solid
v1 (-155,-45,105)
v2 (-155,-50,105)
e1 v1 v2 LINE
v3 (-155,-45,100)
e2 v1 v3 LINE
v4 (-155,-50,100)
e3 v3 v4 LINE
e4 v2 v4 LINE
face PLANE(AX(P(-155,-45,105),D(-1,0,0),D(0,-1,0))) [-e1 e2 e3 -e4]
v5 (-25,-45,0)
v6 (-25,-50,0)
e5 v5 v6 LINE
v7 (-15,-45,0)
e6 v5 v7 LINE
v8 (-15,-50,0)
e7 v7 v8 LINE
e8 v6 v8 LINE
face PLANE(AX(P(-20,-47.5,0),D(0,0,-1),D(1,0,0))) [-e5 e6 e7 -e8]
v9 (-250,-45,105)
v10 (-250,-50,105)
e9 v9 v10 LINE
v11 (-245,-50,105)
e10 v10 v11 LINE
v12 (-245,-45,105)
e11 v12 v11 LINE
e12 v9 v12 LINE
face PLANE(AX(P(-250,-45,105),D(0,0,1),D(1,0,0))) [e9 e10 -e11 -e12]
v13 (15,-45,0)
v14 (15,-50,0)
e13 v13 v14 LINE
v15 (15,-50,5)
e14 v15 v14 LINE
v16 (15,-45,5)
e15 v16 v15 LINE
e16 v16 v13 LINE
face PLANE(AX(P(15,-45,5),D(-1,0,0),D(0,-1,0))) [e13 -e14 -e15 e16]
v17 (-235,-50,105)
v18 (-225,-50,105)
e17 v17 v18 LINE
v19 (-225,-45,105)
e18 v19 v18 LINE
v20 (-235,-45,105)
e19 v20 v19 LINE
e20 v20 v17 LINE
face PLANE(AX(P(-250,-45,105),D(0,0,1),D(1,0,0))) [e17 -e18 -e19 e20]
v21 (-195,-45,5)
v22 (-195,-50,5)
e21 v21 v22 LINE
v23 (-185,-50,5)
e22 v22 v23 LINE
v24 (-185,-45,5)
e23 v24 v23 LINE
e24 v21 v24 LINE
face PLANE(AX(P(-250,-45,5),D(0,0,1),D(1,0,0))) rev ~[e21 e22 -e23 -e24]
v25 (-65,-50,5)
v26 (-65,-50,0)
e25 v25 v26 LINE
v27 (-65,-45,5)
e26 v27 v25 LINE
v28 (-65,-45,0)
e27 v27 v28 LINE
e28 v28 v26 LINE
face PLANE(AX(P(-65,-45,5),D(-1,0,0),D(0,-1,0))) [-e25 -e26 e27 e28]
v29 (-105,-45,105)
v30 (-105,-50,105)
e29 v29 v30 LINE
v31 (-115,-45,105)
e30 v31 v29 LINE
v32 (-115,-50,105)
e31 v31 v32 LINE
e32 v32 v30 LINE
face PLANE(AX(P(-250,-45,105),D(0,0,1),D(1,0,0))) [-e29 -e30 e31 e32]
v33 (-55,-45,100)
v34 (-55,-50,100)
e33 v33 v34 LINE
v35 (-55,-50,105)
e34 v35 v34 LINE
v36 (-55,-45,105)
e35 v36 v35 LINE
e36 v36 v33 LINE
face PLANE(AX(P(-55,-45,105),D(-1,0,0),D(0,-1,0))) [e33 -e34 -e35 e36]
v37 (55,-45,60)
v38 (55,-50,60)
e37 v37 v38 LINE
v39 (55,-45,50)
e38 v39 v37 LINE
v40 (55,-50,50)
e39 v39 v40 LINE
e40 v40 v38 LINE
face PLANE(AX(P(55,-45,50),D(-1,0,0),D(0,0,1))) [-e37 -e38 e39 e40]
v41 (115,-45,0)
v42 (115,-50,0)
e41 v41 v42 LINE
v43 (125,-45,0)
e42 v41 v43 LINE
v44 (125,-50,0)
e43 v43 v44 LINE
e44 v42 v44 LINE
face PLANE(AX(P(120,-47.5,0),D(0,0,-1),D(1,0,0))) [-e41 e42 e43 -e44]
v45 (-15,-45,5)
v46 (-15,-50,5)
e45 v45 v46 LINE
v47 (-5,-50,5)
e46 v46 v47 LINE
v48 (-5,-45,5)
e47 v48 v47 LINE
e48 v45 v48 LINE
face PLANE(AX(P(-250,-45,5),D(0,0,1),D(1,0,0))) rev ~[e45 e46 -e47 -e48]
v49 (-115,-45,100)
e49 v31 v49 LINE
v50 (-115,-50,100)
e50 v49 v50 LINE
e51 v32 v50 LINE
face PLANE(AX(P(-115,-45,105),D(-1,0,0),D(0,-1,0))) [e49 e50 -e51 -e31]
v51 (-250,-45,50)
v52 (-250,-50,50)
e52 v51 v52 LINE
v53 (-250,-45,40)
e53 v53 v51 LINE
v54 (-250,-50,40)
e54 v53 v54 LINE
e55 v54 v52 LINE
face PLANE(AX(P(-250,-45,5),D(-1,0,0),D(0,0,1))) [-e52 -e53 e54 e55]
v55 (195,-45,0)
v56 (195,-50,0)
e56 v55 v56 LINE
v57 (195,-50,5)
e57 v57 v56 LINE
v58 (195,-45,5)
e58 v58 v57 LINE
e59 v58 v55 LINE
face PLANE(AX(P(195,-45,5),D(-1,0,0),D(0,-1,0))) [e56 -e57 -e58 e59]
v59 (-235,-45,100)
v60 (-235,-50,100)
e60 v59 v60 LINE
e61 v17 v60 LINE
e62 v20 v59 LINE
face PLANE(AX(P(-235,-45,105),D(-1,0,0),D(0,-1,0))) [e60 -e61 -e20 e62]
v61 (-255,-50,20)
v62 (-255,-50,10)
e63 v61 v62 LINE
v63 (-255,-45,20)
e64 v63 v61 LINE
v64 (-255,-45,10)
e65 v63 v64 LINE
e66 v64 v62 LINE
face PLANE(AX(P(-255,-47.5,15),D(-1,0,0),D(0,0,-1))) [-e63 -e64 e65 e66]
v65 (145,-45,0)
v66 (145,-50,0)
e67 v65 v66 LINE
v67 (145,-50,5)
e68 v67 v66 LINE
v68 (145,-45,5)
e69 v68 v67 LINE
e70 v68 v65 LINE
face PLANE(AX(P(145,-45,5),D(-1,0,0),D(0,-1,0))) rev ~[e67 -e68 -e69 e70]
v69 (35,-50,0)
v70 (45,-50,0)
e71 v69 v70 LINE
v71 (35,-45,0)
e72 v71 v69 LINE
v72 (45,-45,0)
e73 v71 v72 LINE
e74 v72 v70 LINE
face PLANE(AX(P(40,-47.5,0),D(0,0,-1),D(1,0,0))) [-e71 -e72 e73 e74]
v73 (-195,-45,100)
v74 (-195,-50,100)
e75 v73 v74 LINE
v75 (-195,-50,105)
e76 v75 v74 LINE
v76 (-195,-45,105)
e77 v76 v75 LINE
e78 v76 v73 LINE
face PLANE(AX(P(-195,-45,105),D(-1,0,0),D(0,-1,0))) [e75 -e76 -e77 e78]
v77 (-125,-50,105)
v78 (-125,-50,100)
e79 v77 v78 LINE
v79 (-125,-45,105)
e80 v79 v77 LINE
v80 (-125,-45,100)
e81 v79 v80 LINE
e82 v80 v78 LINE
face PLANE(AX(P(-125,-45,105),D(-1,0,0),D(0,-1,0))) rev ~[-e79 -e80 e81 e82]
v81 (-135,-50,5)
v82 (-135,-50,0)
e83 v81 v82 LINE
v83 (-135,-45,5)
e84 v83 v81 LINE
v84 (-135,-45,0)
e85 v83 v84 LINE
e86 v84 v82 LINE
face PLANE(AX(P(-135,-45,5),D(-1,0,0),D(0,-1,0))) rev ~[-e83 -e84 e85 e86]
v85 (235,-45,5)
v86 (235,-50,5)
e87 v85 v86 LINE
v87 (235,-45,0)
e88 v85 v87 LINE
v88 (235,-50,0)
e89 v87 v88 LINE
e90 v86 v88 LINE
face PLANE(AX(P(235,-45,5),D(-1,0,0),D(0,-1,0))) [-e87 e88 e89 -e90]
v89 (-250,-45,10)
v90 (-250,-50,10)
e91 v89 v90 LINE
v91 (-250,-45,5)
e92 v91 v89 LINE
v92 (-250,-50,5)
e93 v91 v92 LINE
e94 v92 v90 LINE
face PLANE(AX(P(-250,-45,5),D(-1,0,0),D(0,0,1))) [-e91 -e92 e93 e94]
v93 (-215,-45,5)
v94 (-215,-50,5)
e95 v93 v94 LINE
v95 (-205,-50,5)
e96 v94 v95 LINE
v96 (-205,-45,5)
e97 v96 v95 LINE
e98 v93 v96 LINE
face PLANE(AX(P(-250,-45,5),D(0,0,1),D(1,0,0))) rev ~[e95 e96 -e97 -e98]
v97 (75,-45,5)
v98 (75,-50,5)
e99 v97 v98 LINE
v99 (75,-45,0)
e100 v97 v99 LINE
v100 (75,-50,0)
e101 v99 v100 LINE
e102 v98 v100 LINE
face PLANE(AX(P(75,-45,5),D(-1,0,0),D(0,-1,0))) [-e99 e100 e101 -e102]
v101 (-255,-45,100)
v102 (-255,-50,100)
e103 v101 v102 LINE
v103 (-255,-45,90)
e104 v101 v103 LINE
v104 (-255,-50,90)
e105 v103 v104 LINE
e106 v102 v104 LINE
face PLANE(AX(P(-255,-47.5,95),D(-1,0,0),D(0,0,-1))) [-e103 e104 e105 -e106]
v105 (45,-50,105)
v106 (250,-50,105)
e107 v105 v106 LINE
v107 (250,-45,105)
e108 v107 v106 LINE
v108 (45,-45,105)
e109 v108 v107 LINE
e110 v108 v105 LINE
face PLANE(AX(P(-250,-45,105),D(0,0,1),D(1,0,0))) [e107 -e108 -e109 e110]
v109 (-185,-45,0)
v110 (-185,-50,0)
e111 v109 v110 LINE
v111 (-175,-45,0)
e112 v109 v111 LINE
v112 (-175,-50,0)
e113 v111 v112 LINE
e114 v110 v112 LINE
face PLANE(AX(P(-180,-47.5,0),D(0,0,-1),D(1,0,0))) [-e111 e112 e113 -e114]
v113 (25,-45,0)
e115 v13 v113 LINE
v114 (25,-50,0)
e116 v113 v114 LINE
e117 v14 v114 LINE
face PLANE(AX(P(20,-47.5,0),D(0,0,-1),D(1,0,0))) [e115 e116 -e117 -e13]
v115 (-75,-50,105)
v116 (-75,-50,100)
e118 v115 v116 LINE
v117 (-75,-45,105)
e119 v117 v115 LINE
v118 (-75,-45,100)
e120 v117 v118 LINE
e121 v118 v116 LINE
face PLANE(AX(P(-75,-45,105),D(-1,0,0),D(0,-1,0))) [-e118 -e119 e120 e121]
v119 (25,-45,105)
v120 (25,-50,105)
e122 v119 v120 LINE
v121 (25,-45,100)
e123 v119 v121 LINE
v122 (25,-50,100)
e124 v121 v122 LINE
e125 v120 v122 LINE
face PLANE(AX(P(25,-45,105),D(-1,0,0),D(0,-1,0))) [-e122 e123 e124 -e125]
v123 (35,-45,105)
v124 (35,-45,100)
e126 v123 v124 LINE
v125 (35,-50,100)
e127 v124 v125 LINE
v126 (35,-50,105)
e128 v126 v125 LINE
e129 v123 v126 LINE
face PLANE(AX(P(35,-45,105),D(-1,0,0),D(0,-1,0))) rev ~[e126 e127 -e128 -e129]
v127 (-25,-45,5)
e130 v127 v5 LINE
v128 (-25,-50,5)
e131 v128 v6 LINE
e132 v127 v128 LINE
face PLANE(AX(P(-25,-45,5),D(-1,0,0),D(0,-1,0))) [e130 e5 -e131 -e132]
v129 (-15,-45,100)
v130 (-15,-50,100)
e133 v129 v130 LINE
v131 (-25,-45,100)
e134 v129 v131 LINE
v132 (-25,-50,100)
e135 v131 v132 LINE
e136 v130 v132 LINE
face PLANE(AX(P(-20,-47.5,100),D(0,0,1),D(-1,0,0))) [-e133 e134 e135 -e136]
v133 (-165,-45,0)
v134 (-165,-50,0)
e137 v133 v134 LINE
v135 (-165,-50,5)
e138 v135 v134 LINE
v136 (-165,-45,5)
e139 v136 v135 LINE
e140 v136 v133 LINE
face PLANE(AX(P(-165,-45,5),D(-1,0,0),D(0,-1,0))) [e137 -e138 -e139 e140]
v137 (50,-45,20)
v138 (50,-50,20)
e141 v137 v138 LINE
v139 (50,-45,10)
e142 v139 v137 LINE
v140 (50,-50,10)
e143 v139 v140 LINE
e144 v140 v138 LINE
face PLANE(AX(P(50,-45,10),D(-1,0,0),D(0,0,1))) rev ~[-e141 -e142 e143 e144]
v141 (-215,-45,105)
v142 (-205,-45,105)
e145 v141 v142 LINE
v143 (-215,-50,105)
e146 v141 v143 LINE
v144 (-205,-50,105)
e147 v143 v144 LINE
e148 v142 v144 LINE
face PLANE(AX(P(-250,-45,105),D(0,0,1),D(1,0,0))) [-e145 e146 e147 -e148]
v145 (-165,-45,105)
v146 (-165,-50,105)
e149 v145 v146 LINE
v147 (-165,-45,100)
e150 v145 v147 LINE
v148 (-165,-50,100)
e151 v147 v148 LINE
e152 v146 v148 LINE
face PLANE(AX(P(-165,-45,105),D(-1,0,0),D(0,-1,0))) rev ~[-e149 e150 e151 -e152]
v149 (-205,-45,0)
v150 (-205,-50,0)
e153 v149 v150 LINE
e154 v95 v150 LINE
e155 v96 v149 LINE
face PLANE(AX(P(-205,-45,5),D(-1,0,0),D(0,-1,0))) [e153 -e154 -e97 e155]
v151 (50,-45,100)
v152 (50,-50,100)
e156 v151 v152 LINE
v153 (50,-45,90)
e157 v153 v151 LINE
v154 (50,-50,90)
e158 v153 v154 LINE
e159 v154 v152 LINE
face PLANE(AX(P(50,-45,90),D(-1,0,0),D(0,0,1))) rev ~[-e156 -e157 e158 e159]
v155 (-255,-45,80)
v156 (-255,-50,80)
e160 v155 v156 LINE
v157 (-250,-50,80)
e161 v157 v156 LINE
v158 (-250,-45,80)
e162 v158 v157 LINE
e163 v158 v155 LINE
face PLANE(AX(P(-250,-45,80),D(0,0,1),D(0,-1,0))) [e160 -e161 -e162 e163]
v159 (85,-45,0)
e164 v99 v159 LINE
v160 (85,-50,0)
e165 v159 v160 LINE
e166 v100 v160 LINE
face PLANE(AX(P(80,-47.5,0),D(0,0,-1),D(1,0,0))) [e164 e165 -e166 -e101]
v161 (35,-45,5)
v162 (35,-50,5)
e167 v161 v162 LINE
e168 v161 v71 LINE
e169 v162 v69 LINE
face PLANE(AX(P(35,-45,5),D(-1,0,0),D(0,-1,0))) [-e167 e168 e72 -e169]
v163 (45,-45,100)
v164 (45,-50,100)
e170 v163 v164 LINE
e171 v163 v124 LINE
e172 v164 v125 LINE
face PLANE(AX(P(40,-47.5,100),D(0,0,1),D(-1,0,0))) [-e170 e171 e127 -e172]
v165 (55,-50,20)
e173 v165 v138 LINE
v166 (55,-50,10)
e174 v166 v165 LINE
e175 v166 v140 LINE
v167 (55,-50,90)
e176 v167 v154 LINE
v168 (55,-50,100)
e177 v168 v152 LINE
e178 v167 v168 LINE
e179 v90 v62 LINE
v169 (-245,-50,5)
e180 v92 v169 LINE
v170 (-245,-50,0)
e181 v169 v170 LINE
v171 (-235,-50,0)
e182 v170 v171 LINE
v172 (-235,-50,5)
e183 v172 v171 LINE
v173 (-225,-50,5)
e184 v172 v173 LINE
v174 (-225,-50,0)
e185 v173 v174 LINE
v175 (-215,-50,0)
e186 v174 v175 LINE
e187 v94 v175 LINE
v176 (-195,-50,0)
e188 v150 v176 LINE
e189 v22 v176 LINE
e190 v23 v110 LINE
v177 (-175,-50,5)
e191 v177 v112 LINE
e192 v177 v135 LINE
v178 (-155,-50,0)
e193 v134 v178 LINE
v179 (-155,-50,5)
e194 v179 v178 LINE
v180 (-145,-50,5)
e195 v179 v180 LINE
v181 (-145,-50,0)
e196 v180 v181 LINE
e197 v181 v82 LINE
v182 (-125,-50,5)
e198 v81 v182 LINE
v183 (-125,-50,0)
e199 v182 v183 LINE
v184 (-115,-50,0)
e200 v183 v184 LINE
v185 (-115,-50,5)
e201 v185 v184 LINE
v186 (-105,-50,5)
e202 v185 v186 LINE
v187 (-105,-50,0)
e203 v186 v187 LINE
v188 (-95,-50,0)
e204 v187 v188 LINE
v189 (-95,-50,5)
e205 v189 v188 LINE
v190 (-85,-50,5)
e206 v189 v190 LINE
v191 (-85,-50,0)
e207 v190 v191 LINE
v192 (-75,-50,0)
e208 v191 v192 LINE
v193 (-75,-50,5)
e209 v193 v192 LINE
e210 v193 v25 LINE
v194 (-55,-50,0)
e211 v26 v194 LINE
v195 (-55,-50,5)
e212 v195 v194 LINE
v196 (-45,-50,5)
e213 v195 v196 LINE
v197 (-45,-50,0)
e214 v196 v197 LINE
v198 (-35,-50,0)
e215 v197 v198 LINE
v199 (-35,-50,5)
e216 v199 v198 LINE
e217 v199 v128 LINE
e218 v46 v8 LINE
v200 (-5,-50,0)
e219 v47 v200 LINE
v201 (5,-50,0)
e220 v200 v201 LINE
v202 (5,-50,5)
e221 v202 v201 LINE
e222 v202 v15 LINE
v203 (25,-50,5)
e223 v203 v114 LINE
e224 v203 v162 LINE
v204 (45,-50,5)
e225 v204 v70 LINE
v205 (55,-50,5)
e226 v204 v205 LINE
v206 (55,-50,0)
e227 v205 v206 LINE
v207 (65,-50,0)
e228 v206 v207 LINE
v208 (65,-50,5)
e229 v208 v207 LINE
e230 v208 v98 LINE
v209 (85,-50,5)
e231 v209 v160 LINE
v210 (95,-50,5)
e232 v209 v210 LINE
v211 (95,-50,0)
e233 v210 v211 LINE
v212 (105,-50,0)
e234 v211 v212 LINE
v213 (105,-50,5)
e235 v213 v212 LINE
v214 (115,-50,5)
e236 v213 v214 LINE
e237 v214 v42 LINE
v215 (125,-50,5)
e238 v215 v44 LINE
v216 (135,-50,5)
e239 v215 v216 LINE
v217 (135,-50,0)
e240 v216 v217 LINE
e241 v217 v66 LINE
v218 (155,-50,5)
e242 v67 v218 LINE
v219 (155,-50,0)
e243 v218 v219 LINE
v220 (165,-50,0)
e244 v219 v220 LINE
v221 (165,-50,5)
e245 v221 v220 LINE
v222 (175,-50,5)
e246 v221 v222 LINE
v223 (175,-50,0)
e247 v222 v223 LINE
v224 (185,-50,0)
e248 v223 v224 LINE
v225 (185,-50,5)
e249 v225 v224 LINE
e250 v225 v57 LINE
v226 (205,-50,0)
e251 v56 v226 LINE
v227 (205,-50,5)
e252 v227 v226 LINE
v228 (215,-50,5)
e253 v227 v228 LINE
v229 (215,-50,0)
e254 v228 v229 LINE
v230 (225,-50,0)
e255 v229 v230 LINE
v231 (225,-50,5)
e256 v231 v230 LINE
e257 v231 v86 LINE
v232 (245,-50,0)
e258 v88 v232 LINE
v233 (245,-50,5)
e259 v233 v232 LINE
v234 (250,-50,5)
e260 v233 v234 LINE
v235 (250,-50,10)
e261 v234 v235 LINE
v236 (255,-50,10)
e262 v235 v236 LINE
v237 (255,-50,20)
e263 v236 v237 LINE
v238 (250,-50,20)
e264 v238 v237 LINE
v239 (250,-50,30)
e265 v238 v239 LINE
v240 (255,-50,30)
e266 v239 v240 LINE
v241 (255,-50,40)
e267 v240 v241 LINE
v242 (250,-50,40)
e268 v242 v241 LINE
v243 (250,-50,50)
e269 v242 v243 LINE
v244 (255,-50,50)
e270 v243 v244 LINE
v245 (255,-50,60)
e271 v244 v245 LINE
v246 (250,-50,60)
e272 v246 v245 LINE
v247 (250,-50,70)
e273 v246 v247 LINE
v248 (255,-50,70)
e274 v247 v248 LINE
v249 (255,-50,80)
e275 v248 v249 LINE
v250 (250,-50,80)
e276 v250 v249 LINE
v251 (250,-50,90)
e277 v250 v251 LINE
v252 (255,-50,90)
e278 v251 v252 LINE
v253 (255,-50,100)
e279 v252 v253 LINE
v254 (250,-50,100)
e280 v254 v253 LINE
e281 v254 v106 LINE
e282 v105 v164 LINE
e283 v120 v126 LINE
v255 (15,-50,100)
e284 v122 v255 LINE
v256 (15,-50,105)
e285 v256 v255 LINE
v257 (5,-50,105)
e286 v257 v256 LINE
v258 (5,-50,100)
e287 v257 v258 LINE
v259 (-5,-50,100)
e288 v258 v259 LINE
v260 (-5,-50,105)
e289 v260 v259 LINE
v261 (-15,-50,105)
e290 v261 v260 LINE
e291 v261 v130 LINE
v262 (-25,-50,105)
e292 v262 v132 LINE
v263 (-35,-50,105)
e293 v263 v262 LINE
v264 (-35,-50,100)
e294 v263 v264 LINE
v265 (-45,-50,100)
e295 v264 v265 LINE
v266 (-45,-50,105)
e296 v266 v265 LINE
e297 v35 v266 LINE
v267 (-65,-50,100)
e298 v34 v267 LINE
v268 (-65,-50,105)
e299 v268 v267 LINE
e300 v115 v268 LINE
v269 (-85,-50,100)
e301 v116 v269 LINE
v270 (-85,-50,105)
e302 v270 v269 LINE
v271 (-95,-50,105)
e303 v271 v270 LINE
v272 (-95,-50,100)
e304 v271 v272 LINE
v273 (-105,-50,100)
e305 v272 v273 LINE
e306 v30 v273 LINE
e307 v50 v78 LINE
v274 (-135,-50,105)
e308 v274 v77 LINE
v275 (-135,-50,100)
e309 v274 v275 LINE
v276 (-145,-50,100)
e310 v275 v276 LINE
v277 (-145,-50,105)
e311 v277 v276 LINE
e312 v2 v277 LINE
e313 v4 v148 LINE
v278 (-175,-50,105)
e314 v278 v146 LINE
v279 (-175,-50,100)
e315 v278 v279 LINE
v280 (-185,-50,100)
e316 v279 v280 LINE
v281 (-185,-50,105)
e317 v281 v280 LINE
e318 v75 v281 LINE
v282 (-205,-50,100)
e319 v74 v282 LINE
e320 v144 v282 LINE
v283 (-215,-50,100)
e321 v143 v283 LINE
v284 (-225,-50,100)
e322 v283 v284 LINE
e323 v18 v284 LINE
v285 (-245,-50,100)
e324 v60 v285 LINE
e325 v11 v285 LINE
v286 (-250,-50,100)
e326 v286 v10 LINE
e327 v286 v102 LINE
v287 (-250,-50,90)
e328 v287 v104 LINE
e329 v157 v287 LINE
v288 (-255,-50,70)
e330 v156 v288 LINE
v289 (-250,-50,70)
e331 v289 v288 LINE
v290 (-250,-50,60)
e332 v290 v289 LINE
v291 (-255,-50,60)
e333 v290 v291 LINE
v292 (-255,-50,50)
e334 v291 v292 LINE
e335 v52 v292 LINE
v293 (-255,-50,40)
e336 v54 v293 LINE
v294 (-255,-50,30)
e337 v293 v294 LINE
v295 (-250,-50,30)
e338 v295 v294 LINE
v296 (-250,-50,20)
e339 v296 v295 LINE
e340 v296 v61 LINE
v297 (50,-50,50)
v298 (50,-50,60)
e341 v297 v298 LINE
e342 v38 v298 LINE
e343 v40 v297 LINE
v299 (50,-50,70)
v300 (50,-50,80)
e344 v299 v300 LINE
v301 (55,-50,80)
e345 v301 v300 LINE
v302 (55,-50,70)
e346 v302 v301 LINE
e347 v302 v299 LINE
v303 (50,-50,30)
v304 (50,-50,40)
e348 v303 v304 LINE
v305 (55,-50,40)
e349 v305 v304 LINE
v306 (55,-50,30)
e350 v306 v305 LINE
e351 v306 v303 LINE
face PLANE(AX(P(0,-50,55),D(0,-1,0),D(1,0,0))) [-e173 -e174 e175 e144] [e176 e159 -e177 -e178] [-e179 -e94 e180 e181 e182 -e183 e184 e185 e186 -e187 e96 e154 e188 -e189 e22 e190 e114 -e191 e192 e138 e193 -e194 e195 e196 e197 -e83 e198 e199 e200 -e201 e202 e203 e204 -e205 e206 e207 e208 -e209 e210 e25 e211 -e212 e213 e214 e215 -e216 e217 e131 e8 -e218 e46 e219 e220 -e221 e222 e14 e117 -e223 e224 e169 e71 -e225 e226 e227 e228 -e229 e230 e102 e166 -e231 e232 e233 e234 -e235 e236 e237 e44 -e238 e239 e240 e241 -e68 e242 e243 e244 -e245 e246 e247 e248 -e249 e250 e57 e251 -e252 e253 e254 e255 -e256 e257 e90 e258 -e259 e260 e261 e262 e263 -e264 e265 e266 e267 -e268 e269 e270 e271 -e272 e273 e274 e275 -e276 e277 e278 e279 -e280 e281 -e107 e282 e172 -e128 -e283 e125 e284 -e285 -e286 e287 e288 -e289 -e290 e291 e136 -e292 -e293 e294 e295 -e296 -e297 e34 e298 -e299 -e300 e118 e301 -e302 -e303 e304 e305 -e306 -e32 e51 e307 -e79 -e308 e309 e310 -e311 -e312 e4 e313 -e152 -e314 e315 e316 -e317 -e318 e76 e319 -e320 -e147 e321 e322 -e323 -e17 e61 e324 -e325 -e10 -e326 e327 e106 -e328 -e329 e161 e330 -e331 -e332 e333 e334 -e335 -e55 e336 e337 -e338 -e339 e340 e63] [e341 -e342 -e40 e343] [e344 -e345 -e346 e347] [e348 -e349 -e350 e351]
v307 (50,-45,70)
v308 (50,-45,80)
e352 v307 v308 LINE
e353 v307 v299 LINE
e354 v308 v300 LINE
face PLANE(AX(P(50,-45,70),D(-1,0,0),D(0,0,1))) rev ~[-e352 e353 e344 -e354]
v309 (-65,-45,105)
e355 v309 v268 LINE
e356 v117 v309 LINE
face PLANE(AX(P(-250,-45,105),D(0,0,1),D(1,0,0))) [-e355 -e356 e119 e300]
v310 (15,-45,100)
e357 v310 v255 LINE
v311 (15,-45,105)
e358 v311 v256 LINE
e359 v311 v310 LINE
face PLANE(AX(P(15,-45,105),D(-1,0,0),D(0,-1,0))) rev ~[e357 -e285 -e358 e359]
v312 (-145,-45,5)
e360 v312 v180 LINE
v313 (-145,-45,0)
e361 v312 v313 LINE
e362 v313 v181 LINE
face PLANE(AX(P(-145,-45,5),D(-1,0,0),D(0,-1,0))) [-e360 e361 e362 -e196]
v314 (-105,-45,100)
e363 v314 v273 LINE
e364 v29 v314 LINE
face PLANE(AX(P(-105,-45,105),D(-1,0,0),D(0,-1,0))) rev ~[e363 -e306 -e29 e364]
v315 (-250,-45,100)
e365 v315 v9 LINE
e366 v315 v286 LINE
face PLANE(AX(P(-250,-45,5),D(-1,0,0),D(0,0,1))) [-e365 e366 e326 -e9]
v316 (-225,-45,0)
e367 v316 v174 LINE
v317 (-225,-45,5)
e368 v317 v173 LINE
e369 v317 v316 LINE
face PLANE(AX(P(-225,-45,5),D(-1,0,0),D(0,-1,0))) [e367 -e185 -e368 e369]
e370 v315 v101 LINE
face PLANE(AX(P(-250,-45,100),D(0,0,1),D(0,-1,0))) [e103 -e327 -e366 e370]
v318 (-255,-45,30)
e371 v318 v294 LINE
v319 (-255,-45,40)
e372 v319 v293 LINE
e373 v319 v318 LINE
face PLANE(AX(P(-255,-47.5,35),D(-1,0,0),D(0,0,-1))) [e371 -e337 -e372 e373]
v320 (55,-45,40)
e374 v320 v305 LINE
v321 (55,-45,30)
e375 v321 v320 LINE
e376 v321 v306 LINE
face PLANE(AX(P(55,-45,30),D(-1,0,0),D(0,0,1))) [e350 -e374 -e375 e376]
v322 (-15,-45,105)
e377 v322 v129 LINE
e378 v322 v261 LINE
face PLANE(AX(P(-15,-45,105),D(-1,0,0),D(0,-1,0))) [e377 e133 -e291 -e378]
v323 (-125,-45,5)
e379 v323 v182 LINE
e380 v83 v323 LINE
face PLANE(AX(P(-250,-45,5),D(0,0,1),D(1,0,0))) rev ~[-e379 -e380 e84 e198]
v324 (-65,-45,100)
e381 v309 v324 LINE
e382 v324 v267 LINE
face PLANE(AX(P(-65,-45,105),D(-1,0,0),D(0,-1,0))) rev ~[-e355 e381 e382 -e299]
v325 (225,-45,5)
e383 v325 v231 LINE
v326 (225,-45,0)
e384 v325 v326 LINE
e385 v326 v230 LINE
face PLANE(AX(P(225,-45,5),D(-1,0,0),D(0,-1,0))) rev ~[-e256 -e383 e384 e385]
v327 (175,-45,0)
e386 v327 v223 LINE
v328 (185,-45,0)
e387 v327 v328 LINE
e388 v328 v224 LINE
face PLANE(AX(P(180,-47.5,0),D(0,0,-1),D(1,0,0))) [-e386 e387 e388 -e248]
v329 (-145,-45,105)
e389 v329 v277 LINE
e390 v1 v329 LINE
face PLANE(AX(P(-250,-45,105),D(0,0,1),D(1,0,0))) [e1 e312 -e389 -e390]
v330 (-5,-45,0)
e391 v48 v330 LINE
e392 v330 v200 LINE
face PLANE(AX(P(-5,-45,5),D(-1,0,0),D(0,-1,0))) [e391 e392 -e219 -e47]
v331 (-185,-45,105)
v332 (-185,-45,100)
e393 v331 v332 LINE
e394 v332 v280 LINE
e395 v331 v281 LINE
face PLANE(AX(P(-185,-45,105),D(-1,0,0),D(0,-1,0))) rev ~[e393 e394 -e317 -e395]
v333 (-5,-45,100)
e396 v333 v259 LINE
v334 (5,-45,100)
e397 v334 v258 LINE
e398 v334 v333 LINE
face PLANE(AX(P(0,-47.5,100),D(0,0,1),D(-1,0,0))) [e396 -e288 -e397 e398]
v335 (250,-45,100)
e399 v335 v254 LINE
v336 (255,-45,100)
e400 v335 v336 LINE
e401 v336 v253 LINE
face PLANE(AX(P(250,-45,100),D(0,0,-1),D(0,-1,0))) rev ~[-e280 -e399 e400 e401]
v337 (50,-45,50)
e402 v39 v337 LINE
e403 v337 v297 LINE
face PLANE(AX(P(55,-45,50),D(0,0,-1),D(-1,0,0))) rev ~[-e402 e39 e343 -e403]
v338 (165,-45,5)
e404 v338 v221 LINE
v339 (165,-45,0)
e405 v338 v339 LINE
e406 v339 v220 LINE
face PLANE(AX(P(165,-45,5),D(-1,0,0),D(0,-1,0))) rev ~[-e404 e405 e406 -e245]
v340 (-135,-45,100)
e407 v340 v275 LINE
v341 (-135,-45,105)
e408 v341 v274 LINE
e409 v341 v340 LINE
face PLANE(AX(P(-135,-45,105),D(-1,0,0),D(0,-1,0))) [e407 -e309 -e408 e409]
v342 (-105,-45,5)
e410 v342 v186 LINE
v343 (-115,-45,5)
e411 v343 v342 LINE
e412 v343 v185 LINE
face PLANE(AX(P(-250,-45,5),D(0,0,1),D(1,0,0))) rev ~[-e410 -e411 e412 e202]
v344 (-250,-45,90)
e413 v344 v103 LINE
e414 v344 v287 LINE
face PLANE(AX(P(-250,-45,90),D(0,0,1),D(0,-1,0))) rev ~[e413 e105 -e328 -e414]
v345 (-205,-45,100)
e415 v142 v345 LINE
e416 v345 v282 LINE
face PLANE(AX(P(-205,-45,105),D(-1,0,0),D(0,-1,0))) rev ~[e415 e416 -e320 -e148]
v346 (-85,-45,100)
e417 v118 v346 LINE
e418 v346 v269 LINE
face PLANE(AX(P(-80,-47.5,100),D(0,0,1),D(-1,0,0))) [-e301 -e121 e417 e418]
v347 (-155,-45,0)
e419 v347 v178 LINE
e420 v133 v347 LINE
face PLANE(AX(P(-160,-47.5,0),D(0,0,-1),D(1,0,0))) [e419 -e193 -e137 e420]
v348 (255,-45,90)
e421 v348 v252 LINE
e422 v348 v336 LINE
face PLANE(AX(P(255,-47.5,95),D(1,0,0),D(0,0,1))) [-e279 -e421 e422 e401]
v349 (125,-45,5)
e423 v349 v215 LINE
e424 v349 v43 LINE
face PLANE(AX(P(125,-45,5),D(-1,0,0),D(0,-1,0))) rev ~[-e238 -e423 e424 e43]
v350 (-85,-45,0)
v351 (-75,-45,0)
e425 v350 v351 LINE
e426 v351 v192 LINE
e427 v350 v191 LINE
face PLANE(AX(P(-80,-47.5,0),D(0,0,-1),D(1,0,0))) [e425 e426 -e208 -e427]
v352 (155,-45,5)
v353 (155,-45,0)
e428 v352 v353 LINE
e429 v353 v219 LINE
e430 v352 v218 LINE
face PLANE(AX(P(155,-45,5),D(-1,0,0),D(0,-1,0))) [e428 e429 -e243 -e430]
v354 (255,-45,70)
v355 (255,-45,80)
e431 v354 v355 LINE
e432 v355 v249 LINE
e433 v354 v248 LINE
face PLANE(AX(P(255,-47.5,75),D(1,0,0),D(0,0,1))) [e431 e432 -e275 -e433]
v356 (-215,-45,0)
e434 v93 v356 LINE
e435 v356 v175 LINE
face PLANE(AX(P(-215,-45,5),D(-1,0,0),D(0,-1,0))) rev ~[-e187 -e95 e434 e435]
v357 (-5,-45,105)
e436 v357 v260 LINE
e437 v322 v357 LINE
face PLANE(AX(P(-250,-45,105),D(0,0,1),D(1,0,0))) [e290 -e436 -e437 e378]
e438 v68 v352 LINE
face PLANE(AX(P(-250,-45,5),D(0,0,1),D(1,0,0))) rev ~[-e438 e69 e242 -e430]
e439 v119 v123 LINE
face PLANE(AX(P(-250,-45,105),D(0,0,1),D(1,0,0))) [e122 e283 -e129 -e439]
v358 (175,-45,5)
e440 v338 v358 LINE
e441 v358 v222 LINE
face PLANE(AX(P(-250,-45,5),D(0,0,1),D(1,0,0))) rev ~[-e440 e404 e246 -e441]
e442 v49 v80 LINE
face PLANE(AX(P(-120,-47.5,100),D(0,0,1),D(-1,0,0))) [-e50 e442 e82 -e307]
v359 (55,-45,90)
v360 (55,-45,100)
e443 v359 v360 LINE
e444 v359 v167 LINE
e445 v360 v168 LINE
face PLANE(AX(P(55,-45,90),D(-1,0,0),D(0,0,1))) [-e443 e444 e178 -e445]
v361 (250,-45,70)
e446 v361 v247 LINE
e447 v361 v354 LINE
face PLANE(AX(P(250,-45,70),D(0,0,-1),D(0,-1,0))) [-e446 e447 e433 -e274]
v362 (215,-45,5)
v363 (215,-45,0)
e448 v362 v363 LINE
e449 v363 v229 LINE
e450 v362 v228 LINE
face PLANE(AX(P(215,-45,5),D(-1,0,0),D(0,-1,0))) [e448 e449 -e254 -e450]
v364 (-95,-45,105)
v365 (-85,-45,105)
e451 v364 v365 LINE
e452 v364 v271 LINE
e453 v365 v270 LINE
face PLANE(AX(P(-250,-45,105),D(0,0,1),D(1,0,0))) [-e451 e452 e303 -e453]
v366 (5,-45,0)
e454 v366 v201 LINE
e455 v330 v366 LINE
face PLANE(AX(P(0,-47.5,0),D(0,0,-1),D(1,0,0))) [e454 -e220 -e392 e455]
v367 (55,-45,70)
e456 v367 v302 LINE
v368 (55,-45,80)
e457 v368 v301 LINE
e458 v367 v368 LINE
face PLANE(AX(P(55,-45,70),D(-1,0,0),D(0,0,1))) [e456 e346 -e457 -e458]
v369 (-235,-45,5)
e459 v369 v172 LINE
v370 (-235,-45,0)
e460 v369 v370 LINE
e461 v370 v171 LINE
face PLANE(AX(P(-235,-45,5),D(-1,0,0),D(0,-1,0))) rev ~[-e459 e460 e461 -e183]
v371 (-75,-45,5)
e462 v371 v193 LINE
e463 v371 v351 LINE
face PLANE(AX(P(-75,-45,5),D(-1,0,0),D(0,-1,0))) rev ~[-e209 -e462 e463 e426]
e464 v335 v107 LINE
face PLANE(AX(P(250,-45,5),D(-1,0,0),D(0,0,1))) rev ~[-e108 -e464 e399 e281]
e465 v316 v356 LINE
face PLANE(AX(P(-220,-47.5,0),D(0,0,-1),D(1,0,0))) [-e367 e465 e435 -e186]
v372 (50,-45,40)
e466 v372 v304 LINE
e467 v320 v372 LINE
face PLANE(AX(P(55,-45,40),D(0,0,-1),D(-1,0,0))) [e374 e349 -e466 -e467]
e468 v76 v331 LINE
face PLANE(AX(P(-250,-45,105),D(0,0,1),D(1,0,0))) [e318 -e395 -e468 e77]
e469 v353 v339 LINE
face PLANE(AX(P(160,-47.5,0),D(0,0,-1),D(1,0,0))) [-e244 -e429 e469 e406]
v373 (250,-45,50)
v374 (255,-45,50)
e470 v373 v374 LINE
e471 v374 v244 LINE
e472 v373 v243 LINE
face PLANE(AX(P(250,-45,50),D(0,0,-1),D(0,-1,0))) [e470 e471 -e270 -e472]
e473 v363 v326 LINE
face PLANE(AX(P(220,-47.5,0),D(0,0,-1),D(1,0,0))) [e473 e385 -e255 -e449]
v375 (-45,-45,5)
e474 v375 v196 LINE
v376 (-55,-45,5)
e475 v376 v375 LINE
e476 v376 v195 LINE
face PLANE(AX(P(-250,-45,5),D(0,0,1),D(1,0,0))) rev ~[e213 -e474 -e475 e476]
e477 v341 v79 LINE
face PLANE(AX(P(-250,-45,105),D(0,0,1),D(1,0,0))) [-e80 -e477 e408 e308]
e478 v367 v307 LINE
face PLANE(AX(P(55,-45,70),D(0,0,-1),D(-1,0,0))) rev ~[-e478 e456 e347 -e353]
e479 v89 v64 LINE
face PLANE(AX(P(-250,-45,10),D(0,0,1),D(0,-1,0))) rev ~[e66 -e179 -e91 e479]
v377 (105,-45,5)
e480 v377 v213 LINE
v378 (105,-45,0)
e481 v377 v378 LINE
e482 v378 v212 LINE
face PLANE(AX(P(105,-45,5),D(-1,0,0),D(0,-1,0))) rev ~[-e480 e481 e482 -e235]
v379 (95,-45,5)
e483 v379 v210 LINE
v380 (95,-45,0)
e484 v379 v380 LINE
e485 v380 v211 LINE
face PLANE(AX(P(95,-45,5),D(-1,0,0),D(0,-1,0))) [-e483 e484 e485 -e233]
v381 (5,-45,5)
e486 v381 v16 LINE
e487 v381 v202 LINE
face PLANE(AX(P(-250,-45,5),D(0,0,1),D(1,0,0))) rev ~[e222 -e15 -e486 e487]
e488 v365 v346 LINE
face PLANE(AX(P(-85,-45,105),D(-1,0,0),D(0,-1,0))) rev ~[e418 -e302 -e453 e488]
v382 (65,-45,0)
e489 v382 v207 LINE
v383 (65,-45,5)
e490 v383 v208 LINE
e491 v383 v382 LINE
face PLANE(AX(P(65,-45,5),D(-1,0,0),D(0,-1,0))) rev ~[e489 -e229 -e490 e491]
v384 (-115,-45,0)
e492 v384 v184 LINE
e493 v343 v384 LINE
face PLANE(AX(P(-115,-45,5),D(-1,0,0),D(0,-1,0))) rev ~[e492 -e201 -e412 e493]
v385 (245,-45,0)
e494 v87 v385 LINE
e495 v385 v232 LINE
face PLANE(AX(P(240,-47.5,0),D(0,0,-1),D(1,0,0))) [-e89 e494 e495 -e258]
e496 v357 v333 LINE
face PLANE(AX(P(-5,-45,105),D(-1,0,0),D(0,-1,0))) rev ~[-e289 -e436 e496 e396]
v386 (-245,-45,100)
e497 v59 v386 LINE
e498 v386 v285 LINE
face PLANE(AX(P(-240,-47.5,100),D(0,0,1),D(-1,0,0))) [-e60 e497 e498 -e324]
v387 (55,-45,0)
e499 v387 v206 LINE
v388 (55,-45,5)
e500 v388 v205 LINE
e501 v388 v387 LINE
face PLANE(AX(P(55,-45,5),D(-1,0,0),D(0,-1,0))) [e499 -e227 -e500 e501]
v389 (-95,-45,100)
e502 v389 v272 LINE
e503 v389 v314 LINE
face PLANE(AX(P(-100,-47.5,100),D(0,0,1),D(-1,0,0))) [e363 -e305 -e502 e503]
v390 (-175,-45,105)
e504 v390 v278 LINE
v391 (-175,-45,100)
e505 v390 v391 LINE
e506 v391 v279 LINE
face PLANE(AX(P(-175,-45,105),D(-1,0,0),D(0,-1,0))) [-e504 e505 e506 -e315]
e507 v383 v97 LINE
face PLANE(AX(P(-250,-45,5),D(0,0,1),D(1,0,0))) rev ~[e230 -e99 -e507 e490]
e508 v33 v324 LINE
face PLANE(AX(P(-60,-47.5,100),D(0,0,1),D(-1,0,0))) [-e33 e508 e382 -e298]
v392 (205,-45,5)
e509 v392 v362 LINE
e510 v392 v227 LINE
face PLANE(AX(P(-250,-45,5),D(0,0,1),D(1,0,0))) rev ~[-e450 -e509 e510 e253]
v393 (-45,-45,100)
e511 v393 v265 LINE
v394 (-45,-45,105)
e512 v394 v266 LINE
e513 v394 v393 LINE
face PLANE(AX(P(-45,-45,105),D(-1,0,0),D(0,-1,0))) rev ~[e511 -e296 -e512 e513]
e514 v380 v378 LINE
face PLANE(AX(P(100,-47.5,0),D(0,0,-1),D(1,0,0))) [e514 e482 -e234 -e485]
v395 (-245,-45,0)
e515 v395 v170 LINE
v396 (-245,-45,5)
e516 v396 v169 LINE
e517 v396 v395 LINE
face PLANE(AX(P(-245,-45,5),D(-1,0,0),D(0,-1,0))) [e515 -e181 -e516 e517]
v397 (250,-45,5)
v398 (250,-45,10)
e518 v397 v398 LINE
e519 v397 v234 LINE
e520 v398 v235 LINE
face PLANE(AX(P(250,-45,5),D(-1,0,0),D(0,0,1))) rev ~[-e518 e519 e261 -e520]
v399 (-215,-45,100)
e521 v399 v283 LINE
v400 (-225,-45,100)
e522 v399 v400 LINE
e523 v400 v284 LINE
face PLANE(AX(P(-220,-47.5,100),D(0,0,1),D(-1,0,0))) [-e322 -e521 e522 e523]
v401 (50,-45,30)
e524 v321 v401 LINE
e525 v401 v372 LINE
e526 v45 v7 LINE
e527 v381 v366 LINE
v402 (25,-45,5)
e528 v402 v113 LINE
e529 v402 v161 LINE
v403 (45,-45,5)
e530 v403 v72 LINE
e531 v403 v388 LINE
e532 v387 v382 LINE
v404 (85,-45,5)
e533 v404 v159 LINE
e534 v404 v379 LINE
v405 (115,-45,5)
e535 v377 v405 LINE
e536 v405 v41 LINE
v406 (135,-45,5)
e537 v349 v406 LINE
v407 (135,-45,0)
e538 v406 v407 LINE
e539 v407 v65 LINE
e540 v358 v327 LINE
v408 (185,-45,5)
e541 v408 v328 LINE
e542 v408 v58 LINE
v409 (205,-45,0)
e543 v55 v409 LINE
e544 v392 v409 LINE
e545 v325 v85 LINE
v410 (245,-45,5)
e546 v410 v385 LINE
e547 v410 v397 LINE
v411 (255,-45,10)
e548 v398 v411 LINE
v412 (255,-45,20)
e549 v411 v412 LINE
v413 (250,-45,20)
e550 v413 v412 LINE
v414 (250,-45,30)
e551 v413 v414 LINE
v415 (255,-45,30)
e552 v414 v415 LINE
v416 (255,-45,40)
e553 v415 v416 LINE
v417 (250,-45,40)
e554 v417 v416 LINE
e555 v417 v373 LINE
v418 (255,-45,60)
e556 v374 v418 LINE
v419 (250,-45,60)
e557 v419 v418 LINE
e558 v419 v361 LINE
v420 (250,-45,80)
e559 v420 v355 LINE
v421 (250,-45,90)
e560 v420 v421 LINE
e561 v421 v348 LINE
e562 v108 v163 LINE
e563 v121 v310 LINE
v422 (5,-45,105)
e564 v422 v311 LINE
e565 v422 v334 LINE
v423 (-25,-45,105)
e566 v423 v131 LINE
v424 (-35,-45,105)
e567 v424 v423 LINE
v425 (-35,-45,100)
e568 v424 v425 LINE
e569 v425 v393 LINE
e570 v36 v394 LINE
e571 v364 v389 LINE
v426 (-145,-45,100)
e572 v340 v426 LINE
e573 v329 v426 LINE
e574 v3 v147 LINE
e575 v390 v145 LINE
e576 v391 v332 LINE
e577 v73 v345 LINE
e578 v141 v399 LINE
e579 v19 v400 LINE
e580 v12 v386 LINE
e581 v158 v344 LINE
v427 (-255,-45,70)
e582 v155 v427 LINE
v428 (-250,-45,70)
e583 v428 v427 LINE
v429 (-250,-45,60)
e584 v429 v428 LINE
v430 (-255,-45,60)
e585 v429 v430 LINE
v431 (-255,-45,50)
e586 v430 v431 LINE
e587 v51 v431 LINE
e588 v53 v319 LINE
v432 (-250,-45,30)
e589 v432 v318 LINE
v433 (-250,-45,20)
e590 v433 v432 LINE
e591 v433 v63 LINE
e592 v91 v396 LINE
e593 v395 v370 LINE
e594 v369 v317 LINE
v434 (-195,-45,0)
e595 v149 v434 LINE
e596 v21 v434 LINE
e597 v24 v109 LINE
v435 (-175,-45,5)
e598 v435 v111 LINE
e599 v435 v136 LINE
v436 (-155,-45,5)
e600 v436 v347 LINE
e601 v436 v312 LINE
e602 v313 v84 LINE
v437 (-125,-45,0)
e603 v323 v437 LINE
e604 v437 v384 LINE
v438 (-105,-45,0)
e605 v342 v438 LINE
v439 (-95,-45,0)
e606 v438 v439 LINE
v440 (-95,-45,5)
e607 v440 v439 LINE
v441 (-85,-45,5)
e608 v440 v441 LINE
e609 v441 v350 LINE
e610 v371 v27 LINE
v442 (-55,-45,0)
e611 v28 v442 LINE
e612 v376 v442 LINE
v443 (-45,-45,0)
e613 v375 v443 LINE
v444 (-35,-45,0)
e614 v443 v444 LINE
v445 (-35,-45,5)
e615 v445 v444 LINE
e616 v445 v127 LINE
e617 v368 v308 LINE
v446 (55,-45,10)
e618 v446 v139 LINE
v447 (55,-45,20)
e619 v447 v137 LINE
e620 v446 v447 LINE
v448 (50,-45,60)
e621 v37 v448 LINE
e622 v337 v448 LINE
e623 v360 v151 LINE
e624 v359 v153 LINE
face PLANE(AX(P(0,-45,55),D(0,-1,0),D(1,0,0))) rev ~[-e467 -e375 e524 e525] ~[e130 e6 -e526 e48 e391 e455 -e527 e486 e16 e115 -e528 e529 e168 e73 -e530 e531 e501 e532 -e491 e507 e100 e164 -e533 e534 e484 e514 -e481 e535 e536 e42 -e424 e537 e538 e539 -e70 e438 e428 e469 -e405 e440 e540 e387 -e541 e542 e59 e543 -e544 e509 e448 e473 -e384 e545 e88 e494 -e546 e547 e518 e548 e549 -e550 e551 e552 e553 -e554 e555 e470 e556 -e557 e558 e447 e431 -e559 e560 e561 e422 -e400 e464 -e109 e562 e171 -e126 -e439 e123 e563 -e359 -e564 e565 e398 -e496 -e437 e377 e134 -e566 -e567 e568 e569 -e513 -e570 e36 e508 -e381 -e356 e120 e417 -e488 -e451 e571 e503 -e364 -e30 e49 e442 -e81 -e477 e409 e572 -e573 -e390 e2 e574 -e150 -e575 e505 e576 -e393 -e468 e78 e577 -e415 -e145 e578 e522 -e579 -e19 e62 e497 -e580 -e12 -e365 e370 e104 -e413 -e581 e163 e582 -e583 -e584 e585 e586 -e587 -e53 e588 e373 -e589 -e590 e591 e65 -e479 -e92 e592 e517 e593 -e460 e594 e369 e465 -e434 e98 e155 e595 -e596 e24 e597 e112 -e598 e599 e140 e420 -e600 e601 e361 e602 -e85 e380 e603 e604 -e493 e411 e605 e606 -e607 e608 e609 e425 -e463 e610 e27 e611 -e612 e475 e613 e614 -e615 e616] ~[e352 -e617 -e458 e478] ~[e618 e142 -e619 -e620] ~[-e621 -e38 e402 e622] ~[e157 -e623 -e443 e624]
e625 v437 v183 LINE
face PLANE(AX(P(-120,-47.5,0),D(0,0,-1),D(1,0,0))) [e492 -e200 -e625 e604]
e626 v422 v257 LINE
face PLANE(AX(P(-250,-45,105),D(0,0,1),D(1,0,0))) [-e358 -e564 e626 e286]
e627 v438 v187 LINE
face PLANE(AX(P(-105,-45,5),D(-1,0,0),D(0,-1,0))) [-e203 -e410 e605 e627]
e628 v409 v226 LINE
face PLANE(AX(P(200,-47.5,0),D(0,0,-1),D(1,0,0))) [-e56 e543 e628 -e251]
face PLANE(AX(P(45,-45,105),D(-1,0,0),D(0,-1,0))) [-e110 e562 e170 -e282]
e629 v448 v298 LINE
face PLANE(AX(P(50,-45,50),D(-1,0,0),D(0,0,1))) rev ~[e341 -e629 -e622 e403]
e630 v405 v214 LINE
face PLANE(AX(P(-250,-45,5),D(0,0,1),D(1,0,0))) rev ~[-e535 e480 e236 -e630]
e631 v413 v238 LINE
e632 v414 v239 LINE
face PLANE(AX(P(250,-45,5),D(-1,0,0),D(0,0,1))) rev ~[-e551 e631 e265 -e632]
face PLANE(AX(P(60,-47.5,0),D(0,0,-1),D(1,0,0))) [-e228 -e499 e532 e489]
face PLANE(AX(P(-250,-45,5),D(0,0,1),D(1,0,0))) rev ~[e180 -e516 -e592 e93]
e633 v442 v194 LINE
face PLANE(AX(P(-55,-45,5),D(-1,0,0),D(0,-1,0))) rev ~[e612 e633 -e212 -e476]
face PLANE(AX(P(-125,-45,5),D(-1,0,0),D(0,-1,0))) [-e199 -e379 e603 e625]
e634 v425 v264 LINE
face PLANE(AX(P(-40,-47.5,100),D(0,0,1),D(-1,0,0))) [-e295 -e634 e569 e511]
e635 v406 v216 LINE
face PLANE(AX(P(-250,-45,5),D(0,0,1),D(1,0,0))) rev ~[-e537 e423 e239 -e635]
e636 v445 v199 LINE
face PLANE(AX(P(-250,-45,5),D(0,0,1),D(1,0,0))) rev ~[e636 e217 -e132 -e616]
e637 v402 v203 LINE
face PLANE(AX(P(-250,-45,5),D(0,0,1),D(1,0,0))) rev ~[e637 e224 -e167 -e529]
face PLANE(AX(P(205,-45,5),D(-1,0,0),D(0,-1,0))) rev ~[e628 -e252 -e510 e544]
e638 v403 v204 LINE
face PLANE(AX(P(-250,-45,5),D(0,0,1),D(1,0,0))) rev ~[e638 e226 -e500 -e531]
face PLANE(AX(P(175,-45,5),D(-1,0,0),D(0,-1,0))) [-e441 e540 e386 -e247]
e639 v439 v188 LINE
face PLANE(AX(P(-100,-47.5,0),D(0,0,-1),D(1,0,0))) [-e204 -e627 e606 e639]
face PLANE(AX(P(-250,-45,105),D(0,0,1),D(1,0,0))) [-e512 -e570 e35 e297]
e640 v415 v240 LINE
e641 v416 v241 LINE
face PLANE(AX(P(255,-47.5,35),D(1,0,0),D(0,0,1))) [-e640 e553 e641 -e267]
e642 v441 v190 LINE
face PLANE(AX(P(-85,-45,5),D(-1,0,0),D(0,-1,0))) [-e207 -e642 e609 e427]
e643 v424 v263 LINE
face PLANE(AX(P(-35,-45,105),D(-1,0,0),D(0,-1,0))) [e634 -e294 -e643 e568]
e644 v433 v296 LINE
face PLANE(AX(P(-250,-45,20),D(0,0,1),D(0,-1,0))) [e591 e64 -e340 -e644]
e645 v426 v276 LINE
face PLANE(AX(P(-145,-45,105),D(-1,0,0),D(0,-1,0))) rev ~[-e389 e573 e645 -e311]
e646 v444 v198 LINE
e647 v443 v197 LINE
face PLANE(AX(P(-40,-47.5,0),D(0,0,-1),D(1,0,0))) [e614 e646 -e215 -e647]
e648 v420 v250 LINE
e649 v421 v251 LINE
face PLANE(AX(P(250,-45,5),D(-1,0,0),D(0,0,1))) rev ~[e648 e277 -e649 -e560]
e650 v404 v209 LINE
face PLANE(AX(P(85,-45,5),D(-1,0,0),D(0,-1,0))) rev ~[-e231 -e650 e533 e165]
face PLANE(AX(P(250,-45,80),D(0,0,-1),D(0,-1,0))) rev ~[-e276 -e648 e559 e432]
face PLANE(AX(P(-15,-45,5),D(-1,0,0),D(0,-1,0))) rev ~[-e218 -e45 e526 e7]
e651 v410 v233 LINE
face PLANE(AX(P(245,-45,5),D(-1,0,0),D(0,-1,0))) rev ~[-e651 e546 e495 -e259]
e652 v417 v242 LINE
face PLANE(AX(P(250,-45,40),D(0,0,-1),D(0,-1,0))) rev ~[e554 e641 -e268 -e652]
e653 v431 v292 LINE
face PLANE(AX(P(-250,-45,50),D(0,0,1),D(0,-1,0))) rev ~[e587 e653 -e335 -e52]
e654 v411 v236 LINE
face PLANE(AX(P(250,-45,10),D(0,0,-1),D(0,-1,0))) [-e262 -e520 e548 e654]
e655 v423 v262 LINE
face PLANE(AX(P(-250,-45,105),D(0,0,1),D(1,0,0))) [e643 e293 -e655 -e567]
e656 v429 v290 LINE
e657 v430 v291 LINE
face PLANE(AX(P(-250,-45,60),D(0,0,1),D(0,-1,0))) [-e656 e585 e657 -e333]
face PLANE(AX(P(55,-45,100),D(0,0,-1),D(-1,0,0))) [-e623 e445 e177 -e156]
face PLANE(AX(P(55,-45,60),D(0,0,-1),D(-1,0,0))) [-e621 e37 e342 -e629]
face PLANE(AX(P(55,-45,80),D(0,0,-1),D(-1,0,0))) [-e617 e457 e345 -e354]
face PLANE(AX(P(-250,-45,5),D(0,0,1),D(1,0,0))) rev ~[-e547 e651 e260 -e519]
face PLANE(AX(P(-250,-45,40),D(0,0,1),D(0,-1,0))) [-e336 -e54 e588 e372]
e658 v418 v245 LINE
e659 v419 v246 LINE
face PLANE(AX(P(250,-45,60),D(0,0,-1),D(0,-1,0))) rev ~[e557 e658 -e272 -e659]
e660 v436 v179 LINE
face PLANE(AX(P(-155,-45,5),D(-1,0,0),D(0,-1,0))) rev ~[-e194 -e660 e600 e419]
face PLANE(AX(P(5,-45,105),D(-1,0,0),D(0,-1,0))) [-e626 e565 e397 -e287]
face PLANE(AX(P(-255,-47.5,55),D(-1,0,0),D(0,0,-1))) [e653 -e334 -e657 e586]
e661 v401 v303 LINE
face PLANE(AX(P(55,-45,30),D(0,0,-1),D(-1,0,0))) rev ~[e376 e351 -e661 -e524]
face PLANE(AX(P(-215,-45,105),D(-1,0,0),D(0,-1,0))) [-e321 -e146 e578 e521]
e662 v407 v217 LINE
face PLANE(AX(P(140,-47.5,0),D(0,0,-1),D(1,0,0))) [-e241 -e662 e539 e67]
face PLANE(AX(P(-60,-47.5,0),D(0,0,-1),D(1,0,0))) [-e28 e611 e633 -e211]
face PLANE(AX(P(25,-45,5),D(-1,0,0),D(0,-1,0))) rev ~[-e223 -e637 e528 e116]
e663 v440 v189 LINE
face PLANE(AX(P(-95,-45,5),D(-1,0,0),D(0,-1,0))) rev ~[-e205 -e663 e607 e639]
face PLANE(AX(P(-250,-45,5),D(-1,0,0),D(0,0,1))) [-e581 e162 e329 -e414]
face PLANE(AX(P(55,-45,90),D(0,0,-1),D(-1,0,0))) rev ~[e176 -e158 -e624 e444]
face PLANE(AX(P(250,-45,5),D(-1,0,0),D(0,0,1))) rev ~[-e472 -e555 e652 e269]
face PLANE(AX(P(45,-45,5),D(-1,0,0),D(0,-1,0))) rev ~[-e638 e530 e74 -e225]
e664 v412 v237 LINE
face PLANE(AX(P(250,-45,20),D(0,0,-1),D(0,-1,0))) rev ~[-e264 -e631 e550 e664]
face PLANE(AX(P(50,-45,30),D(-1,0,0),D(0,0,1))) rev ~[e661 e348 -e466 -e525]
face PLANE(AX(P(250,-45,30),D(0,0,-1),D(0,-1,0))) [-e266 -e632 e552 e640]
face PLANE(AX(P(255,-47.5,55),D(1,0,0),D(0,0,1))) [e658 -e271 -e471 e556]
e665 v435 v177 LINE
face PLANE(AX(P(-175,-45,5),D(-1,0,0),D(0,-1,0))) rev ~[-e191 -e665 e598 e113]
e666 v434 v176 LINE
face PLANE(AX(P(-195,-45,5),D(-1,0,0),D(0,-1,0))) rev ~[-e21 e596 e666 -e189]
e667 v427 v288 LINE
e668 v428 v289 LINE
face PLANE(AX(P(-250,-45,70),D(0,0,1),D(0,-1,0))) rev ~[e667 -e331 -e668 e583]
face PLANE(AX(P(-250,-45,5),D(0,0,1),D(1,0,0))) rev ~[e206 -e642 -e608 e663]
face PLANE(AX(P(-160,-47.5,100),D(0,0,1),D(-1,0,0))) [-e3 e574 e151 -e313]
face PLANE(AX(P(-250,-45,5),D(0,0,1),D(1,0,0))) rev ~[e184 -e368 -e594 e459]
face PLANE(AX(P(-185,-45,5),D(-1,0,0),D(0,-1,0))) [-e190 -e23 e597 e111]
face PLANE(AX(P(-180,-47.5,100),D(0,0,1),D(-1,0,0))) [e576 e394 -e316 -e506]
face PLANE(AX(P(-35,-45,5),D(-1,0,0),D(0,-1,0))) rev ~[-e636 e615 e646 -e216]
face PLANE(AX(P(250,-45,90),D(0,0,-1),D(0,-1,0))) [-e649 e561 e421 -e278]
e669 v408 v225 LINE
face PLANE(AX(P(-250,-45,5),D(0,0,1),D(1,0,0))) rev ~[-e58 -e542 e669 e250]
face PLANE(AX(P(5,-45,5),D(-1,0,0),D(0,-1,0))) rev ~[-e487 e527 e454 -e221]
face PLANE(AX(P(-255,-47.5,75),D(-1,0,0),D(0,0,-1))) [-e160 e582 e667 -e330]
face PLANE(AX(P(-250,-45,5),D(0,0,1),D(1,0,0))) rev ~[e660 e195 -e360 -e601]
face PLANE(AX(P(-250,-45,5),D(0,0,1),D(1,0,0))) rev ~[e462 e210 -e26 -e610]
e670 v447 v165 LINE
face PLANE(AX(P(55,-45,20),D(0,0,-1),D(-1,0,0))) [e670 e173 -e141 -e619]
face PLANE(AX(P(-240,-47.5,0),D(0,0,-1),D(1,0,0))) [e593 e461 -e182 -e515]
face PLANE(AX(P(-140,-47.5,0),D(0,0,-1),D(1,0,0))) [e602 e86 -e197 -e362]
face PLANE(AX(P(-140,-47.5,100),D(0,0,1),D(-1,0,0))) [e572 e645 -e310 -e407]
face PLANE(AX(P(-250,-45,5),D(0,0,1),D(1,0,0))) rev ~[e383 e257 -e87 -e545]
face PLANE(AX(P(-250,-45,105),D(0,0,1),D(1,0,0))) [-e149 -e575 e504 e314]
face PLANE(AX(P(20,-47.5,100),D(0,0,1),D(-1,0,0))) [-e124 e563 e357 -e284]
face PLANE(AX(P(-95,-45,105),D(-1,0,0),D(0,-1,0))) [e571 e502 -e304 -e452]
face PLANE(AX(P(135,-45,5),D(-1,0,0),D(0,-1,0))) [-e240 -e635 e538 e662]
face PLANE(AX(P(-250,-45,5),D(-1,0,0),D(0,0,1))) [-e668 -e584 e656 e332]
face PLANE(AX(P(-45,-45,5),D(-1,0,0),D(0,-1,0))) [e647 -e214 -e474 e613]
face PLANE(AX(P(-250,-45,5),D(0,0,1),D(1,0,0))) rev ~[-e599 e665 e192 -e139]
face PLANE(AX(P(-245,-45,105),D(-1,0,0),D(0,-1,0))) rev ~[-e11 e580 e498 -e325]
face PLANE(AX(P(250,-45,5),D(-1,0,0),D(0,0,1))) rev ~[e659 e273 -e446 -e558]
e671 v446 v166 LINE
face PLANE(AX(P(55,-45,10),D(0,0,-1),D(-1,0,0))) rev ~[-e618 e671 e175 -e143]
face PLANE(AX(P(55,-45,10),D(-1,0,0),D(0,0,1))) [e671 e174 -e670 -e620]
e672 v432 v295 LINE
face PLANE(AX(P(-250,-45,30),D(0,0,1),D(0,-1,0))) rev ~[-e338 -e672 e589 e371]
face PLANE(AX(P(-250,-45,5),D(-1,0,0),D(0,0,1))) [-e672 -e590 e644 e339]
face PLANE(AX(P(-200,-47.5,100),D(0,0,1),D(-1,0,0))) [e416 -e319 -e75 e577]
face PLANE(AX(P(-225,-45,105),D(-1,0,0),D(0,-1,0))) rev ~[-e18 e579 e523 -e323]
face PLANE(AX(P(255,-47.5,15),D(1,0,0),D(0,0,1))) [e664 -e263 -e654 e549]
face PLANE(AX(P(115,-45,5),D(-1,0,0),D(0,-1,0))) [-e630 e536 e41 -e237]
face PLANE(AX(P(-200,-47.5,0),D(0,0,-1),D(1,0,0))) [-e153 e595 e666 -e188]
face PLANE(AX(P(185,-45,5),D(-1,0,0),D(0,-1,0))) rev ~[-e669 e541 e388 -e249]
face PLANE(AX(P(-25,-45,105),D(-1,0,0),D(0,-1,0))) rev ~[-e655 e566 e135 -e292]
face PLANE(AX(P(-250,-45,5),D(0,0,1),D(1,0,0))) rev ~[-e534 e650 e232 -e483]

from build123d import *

# Parameters (mm, degrees)
SKETCH088_W             = 500
SKETCH088_H             = 100
PAD047_DEPTH            = 5
SKETCH089_W             = 10
SKETCH089_H             = 5
PAD048_DEPTH            = 5
LINEARPATTERN046_COUNT  = 25
LINEARPATTERN046_PITCH  = 20
SKETCH090_W             = 10
SKETCH090_H             = 5
PAD049_DEPTH            = 5
LINEARPATTERN047_COUNT  = 5
LINEARPATTERN047_PITCH  = 20
SKETCH091_W             = 10
SKETCH091_H             = 5
PAD050_DEPTH            = 5
LINEARPATTERN048_COUNT  = 5
LINEARPATTERN048_PITCH  = 20
SKETCH119_W             = 5
SKETCH119_H             = 10
POCKET029_DEPTH         = 5
LINEARPATTERN071_COUNT  = 5
LINEARPATTERN071_PITCH  = 20
SKETCH130_W             = 10
SKETCH130_H             = 5
POCKET039_DEPTH         = 5
LINEARPATTERN082_COUNT  = 15
LINEARPATTERN082_PITCH  = 20
BODY035_PLACEMENT_ANGLE = 90


with BuildPart() as part:
    # Sketch088 → Pad047 (new body)
    with BuildSketch(Plane.XY):
        Rectangle(SKETCH088_W, SKETCH088_H)
    extrude(amount=PAD047_DEPTH)

    # Sketch089 (on DatumPlane) → Pad048 (join)
    with BuildSketch(Plane.XZ.offset(50)):
        with Locations((-240, 2.5)):
            Rectangle(SKETCH089_W, SKETCH089_H)
    pad048 = extrude(amount=PAD048_DEPTH)

    # LinearPattern046: Pad048 ×25
    with Locations(*[(i * LINEARPATTERN046_PITCH, 0, 0) for i in range(1, LINEARPATTERN046_COUNT)]):
        add(pad048)

    # Sketch090 (on DatumPlane) → Pad049 (join)
    with BuildSketch(Plane.YZ.offset(250)):
        with Locations((-40, 2.5)):
            Rectangle(SKETCH090_W, SKETCH090_H)
    pad049 = extrude(amount=PAD049_DEPTH)

    # LinearPattern047: Pad049 ×5
    with Locations(*[(0, i * LINEARPATTERN047_PITCH, 0) for i in range(1, LINEARPATTERN047_COUNT)]):
        add(pad049)

    # Sketch091 (on DatumPlane) → Pad050 (join)
    with BuildSketch(Plane(origin=(-250, 0, 0), x_dir=(0, -1, 0), z_dir=(-1, 0, 0))):
        with Locations((-40, 2.5)):
            Rectangle(SKETCH091_W, SKETCH091_H)
    pad050 = extrude(amount=PAD050_DEPTH)

    # LinearPattern048: Pad050 ×5
    with Locations(*[(0, -i * LINEARPATTERN048_PITCH, 0) for i in range(1, LINEARPATTERN048_COUNT)]):
        add(pad050)

    # Sketch119 (on DatumPlane) → Pocket029 (cut)
    with BuildSketch(Plane(origin=(0, 0, 0), x_dir=(-1, 0, 0), z_dir=(0, 0, -1))):
        with Locations((-52.5, 40)):
            Rectangle(SKETCH119_W, SKETCH119_H)
    pocket029 = extrude(amount=-POCKET029_DEPTH, mode=Mode.SUBTRACT)

    # LinearPattern071: Pocket029 ×5
    with Locations(*[(0, -i * LINEARPATTERN071_PITCH, 0) for i in range(1, LINEARPATTERN071_COUNT)]):
        add(pocket029, mode=Mode.SUBTRACT)

    # Sketch130 (on DatumPlane) → Pocket039 (cut)
    with BuildSketch(Plane(origin=(0, 50, 0), x_dir=(-1, 0, 0), z_dir=(0, 1, 0))):
        with Locations((240, 2.5)):
            Rectangle(SKETCH130_W, SKETCH130_H)
    pocket039 = extrude(amount=-POCKET039_DEPTH, mode=Mode.SUBTRACT)

    # LinearPattern082: Pocket039 ×15
    with Locations(*[(i * LINEARPATTERN082_PITCH, 0, 0) for i in range(1, LINEARPATTERN082_COUNT)]):
        add(pocket039, mode=Mode.SUBTRACT)


with BuildPart() as part_1:
    # Body035 placement: moved
    add(part.part.moved(Location((0, -45, 55))).rotate(Axis((0, -45, 55), (1, 0, 0)), BODY035_PLACEMENT_ANGLE))


solid = part_1.part
